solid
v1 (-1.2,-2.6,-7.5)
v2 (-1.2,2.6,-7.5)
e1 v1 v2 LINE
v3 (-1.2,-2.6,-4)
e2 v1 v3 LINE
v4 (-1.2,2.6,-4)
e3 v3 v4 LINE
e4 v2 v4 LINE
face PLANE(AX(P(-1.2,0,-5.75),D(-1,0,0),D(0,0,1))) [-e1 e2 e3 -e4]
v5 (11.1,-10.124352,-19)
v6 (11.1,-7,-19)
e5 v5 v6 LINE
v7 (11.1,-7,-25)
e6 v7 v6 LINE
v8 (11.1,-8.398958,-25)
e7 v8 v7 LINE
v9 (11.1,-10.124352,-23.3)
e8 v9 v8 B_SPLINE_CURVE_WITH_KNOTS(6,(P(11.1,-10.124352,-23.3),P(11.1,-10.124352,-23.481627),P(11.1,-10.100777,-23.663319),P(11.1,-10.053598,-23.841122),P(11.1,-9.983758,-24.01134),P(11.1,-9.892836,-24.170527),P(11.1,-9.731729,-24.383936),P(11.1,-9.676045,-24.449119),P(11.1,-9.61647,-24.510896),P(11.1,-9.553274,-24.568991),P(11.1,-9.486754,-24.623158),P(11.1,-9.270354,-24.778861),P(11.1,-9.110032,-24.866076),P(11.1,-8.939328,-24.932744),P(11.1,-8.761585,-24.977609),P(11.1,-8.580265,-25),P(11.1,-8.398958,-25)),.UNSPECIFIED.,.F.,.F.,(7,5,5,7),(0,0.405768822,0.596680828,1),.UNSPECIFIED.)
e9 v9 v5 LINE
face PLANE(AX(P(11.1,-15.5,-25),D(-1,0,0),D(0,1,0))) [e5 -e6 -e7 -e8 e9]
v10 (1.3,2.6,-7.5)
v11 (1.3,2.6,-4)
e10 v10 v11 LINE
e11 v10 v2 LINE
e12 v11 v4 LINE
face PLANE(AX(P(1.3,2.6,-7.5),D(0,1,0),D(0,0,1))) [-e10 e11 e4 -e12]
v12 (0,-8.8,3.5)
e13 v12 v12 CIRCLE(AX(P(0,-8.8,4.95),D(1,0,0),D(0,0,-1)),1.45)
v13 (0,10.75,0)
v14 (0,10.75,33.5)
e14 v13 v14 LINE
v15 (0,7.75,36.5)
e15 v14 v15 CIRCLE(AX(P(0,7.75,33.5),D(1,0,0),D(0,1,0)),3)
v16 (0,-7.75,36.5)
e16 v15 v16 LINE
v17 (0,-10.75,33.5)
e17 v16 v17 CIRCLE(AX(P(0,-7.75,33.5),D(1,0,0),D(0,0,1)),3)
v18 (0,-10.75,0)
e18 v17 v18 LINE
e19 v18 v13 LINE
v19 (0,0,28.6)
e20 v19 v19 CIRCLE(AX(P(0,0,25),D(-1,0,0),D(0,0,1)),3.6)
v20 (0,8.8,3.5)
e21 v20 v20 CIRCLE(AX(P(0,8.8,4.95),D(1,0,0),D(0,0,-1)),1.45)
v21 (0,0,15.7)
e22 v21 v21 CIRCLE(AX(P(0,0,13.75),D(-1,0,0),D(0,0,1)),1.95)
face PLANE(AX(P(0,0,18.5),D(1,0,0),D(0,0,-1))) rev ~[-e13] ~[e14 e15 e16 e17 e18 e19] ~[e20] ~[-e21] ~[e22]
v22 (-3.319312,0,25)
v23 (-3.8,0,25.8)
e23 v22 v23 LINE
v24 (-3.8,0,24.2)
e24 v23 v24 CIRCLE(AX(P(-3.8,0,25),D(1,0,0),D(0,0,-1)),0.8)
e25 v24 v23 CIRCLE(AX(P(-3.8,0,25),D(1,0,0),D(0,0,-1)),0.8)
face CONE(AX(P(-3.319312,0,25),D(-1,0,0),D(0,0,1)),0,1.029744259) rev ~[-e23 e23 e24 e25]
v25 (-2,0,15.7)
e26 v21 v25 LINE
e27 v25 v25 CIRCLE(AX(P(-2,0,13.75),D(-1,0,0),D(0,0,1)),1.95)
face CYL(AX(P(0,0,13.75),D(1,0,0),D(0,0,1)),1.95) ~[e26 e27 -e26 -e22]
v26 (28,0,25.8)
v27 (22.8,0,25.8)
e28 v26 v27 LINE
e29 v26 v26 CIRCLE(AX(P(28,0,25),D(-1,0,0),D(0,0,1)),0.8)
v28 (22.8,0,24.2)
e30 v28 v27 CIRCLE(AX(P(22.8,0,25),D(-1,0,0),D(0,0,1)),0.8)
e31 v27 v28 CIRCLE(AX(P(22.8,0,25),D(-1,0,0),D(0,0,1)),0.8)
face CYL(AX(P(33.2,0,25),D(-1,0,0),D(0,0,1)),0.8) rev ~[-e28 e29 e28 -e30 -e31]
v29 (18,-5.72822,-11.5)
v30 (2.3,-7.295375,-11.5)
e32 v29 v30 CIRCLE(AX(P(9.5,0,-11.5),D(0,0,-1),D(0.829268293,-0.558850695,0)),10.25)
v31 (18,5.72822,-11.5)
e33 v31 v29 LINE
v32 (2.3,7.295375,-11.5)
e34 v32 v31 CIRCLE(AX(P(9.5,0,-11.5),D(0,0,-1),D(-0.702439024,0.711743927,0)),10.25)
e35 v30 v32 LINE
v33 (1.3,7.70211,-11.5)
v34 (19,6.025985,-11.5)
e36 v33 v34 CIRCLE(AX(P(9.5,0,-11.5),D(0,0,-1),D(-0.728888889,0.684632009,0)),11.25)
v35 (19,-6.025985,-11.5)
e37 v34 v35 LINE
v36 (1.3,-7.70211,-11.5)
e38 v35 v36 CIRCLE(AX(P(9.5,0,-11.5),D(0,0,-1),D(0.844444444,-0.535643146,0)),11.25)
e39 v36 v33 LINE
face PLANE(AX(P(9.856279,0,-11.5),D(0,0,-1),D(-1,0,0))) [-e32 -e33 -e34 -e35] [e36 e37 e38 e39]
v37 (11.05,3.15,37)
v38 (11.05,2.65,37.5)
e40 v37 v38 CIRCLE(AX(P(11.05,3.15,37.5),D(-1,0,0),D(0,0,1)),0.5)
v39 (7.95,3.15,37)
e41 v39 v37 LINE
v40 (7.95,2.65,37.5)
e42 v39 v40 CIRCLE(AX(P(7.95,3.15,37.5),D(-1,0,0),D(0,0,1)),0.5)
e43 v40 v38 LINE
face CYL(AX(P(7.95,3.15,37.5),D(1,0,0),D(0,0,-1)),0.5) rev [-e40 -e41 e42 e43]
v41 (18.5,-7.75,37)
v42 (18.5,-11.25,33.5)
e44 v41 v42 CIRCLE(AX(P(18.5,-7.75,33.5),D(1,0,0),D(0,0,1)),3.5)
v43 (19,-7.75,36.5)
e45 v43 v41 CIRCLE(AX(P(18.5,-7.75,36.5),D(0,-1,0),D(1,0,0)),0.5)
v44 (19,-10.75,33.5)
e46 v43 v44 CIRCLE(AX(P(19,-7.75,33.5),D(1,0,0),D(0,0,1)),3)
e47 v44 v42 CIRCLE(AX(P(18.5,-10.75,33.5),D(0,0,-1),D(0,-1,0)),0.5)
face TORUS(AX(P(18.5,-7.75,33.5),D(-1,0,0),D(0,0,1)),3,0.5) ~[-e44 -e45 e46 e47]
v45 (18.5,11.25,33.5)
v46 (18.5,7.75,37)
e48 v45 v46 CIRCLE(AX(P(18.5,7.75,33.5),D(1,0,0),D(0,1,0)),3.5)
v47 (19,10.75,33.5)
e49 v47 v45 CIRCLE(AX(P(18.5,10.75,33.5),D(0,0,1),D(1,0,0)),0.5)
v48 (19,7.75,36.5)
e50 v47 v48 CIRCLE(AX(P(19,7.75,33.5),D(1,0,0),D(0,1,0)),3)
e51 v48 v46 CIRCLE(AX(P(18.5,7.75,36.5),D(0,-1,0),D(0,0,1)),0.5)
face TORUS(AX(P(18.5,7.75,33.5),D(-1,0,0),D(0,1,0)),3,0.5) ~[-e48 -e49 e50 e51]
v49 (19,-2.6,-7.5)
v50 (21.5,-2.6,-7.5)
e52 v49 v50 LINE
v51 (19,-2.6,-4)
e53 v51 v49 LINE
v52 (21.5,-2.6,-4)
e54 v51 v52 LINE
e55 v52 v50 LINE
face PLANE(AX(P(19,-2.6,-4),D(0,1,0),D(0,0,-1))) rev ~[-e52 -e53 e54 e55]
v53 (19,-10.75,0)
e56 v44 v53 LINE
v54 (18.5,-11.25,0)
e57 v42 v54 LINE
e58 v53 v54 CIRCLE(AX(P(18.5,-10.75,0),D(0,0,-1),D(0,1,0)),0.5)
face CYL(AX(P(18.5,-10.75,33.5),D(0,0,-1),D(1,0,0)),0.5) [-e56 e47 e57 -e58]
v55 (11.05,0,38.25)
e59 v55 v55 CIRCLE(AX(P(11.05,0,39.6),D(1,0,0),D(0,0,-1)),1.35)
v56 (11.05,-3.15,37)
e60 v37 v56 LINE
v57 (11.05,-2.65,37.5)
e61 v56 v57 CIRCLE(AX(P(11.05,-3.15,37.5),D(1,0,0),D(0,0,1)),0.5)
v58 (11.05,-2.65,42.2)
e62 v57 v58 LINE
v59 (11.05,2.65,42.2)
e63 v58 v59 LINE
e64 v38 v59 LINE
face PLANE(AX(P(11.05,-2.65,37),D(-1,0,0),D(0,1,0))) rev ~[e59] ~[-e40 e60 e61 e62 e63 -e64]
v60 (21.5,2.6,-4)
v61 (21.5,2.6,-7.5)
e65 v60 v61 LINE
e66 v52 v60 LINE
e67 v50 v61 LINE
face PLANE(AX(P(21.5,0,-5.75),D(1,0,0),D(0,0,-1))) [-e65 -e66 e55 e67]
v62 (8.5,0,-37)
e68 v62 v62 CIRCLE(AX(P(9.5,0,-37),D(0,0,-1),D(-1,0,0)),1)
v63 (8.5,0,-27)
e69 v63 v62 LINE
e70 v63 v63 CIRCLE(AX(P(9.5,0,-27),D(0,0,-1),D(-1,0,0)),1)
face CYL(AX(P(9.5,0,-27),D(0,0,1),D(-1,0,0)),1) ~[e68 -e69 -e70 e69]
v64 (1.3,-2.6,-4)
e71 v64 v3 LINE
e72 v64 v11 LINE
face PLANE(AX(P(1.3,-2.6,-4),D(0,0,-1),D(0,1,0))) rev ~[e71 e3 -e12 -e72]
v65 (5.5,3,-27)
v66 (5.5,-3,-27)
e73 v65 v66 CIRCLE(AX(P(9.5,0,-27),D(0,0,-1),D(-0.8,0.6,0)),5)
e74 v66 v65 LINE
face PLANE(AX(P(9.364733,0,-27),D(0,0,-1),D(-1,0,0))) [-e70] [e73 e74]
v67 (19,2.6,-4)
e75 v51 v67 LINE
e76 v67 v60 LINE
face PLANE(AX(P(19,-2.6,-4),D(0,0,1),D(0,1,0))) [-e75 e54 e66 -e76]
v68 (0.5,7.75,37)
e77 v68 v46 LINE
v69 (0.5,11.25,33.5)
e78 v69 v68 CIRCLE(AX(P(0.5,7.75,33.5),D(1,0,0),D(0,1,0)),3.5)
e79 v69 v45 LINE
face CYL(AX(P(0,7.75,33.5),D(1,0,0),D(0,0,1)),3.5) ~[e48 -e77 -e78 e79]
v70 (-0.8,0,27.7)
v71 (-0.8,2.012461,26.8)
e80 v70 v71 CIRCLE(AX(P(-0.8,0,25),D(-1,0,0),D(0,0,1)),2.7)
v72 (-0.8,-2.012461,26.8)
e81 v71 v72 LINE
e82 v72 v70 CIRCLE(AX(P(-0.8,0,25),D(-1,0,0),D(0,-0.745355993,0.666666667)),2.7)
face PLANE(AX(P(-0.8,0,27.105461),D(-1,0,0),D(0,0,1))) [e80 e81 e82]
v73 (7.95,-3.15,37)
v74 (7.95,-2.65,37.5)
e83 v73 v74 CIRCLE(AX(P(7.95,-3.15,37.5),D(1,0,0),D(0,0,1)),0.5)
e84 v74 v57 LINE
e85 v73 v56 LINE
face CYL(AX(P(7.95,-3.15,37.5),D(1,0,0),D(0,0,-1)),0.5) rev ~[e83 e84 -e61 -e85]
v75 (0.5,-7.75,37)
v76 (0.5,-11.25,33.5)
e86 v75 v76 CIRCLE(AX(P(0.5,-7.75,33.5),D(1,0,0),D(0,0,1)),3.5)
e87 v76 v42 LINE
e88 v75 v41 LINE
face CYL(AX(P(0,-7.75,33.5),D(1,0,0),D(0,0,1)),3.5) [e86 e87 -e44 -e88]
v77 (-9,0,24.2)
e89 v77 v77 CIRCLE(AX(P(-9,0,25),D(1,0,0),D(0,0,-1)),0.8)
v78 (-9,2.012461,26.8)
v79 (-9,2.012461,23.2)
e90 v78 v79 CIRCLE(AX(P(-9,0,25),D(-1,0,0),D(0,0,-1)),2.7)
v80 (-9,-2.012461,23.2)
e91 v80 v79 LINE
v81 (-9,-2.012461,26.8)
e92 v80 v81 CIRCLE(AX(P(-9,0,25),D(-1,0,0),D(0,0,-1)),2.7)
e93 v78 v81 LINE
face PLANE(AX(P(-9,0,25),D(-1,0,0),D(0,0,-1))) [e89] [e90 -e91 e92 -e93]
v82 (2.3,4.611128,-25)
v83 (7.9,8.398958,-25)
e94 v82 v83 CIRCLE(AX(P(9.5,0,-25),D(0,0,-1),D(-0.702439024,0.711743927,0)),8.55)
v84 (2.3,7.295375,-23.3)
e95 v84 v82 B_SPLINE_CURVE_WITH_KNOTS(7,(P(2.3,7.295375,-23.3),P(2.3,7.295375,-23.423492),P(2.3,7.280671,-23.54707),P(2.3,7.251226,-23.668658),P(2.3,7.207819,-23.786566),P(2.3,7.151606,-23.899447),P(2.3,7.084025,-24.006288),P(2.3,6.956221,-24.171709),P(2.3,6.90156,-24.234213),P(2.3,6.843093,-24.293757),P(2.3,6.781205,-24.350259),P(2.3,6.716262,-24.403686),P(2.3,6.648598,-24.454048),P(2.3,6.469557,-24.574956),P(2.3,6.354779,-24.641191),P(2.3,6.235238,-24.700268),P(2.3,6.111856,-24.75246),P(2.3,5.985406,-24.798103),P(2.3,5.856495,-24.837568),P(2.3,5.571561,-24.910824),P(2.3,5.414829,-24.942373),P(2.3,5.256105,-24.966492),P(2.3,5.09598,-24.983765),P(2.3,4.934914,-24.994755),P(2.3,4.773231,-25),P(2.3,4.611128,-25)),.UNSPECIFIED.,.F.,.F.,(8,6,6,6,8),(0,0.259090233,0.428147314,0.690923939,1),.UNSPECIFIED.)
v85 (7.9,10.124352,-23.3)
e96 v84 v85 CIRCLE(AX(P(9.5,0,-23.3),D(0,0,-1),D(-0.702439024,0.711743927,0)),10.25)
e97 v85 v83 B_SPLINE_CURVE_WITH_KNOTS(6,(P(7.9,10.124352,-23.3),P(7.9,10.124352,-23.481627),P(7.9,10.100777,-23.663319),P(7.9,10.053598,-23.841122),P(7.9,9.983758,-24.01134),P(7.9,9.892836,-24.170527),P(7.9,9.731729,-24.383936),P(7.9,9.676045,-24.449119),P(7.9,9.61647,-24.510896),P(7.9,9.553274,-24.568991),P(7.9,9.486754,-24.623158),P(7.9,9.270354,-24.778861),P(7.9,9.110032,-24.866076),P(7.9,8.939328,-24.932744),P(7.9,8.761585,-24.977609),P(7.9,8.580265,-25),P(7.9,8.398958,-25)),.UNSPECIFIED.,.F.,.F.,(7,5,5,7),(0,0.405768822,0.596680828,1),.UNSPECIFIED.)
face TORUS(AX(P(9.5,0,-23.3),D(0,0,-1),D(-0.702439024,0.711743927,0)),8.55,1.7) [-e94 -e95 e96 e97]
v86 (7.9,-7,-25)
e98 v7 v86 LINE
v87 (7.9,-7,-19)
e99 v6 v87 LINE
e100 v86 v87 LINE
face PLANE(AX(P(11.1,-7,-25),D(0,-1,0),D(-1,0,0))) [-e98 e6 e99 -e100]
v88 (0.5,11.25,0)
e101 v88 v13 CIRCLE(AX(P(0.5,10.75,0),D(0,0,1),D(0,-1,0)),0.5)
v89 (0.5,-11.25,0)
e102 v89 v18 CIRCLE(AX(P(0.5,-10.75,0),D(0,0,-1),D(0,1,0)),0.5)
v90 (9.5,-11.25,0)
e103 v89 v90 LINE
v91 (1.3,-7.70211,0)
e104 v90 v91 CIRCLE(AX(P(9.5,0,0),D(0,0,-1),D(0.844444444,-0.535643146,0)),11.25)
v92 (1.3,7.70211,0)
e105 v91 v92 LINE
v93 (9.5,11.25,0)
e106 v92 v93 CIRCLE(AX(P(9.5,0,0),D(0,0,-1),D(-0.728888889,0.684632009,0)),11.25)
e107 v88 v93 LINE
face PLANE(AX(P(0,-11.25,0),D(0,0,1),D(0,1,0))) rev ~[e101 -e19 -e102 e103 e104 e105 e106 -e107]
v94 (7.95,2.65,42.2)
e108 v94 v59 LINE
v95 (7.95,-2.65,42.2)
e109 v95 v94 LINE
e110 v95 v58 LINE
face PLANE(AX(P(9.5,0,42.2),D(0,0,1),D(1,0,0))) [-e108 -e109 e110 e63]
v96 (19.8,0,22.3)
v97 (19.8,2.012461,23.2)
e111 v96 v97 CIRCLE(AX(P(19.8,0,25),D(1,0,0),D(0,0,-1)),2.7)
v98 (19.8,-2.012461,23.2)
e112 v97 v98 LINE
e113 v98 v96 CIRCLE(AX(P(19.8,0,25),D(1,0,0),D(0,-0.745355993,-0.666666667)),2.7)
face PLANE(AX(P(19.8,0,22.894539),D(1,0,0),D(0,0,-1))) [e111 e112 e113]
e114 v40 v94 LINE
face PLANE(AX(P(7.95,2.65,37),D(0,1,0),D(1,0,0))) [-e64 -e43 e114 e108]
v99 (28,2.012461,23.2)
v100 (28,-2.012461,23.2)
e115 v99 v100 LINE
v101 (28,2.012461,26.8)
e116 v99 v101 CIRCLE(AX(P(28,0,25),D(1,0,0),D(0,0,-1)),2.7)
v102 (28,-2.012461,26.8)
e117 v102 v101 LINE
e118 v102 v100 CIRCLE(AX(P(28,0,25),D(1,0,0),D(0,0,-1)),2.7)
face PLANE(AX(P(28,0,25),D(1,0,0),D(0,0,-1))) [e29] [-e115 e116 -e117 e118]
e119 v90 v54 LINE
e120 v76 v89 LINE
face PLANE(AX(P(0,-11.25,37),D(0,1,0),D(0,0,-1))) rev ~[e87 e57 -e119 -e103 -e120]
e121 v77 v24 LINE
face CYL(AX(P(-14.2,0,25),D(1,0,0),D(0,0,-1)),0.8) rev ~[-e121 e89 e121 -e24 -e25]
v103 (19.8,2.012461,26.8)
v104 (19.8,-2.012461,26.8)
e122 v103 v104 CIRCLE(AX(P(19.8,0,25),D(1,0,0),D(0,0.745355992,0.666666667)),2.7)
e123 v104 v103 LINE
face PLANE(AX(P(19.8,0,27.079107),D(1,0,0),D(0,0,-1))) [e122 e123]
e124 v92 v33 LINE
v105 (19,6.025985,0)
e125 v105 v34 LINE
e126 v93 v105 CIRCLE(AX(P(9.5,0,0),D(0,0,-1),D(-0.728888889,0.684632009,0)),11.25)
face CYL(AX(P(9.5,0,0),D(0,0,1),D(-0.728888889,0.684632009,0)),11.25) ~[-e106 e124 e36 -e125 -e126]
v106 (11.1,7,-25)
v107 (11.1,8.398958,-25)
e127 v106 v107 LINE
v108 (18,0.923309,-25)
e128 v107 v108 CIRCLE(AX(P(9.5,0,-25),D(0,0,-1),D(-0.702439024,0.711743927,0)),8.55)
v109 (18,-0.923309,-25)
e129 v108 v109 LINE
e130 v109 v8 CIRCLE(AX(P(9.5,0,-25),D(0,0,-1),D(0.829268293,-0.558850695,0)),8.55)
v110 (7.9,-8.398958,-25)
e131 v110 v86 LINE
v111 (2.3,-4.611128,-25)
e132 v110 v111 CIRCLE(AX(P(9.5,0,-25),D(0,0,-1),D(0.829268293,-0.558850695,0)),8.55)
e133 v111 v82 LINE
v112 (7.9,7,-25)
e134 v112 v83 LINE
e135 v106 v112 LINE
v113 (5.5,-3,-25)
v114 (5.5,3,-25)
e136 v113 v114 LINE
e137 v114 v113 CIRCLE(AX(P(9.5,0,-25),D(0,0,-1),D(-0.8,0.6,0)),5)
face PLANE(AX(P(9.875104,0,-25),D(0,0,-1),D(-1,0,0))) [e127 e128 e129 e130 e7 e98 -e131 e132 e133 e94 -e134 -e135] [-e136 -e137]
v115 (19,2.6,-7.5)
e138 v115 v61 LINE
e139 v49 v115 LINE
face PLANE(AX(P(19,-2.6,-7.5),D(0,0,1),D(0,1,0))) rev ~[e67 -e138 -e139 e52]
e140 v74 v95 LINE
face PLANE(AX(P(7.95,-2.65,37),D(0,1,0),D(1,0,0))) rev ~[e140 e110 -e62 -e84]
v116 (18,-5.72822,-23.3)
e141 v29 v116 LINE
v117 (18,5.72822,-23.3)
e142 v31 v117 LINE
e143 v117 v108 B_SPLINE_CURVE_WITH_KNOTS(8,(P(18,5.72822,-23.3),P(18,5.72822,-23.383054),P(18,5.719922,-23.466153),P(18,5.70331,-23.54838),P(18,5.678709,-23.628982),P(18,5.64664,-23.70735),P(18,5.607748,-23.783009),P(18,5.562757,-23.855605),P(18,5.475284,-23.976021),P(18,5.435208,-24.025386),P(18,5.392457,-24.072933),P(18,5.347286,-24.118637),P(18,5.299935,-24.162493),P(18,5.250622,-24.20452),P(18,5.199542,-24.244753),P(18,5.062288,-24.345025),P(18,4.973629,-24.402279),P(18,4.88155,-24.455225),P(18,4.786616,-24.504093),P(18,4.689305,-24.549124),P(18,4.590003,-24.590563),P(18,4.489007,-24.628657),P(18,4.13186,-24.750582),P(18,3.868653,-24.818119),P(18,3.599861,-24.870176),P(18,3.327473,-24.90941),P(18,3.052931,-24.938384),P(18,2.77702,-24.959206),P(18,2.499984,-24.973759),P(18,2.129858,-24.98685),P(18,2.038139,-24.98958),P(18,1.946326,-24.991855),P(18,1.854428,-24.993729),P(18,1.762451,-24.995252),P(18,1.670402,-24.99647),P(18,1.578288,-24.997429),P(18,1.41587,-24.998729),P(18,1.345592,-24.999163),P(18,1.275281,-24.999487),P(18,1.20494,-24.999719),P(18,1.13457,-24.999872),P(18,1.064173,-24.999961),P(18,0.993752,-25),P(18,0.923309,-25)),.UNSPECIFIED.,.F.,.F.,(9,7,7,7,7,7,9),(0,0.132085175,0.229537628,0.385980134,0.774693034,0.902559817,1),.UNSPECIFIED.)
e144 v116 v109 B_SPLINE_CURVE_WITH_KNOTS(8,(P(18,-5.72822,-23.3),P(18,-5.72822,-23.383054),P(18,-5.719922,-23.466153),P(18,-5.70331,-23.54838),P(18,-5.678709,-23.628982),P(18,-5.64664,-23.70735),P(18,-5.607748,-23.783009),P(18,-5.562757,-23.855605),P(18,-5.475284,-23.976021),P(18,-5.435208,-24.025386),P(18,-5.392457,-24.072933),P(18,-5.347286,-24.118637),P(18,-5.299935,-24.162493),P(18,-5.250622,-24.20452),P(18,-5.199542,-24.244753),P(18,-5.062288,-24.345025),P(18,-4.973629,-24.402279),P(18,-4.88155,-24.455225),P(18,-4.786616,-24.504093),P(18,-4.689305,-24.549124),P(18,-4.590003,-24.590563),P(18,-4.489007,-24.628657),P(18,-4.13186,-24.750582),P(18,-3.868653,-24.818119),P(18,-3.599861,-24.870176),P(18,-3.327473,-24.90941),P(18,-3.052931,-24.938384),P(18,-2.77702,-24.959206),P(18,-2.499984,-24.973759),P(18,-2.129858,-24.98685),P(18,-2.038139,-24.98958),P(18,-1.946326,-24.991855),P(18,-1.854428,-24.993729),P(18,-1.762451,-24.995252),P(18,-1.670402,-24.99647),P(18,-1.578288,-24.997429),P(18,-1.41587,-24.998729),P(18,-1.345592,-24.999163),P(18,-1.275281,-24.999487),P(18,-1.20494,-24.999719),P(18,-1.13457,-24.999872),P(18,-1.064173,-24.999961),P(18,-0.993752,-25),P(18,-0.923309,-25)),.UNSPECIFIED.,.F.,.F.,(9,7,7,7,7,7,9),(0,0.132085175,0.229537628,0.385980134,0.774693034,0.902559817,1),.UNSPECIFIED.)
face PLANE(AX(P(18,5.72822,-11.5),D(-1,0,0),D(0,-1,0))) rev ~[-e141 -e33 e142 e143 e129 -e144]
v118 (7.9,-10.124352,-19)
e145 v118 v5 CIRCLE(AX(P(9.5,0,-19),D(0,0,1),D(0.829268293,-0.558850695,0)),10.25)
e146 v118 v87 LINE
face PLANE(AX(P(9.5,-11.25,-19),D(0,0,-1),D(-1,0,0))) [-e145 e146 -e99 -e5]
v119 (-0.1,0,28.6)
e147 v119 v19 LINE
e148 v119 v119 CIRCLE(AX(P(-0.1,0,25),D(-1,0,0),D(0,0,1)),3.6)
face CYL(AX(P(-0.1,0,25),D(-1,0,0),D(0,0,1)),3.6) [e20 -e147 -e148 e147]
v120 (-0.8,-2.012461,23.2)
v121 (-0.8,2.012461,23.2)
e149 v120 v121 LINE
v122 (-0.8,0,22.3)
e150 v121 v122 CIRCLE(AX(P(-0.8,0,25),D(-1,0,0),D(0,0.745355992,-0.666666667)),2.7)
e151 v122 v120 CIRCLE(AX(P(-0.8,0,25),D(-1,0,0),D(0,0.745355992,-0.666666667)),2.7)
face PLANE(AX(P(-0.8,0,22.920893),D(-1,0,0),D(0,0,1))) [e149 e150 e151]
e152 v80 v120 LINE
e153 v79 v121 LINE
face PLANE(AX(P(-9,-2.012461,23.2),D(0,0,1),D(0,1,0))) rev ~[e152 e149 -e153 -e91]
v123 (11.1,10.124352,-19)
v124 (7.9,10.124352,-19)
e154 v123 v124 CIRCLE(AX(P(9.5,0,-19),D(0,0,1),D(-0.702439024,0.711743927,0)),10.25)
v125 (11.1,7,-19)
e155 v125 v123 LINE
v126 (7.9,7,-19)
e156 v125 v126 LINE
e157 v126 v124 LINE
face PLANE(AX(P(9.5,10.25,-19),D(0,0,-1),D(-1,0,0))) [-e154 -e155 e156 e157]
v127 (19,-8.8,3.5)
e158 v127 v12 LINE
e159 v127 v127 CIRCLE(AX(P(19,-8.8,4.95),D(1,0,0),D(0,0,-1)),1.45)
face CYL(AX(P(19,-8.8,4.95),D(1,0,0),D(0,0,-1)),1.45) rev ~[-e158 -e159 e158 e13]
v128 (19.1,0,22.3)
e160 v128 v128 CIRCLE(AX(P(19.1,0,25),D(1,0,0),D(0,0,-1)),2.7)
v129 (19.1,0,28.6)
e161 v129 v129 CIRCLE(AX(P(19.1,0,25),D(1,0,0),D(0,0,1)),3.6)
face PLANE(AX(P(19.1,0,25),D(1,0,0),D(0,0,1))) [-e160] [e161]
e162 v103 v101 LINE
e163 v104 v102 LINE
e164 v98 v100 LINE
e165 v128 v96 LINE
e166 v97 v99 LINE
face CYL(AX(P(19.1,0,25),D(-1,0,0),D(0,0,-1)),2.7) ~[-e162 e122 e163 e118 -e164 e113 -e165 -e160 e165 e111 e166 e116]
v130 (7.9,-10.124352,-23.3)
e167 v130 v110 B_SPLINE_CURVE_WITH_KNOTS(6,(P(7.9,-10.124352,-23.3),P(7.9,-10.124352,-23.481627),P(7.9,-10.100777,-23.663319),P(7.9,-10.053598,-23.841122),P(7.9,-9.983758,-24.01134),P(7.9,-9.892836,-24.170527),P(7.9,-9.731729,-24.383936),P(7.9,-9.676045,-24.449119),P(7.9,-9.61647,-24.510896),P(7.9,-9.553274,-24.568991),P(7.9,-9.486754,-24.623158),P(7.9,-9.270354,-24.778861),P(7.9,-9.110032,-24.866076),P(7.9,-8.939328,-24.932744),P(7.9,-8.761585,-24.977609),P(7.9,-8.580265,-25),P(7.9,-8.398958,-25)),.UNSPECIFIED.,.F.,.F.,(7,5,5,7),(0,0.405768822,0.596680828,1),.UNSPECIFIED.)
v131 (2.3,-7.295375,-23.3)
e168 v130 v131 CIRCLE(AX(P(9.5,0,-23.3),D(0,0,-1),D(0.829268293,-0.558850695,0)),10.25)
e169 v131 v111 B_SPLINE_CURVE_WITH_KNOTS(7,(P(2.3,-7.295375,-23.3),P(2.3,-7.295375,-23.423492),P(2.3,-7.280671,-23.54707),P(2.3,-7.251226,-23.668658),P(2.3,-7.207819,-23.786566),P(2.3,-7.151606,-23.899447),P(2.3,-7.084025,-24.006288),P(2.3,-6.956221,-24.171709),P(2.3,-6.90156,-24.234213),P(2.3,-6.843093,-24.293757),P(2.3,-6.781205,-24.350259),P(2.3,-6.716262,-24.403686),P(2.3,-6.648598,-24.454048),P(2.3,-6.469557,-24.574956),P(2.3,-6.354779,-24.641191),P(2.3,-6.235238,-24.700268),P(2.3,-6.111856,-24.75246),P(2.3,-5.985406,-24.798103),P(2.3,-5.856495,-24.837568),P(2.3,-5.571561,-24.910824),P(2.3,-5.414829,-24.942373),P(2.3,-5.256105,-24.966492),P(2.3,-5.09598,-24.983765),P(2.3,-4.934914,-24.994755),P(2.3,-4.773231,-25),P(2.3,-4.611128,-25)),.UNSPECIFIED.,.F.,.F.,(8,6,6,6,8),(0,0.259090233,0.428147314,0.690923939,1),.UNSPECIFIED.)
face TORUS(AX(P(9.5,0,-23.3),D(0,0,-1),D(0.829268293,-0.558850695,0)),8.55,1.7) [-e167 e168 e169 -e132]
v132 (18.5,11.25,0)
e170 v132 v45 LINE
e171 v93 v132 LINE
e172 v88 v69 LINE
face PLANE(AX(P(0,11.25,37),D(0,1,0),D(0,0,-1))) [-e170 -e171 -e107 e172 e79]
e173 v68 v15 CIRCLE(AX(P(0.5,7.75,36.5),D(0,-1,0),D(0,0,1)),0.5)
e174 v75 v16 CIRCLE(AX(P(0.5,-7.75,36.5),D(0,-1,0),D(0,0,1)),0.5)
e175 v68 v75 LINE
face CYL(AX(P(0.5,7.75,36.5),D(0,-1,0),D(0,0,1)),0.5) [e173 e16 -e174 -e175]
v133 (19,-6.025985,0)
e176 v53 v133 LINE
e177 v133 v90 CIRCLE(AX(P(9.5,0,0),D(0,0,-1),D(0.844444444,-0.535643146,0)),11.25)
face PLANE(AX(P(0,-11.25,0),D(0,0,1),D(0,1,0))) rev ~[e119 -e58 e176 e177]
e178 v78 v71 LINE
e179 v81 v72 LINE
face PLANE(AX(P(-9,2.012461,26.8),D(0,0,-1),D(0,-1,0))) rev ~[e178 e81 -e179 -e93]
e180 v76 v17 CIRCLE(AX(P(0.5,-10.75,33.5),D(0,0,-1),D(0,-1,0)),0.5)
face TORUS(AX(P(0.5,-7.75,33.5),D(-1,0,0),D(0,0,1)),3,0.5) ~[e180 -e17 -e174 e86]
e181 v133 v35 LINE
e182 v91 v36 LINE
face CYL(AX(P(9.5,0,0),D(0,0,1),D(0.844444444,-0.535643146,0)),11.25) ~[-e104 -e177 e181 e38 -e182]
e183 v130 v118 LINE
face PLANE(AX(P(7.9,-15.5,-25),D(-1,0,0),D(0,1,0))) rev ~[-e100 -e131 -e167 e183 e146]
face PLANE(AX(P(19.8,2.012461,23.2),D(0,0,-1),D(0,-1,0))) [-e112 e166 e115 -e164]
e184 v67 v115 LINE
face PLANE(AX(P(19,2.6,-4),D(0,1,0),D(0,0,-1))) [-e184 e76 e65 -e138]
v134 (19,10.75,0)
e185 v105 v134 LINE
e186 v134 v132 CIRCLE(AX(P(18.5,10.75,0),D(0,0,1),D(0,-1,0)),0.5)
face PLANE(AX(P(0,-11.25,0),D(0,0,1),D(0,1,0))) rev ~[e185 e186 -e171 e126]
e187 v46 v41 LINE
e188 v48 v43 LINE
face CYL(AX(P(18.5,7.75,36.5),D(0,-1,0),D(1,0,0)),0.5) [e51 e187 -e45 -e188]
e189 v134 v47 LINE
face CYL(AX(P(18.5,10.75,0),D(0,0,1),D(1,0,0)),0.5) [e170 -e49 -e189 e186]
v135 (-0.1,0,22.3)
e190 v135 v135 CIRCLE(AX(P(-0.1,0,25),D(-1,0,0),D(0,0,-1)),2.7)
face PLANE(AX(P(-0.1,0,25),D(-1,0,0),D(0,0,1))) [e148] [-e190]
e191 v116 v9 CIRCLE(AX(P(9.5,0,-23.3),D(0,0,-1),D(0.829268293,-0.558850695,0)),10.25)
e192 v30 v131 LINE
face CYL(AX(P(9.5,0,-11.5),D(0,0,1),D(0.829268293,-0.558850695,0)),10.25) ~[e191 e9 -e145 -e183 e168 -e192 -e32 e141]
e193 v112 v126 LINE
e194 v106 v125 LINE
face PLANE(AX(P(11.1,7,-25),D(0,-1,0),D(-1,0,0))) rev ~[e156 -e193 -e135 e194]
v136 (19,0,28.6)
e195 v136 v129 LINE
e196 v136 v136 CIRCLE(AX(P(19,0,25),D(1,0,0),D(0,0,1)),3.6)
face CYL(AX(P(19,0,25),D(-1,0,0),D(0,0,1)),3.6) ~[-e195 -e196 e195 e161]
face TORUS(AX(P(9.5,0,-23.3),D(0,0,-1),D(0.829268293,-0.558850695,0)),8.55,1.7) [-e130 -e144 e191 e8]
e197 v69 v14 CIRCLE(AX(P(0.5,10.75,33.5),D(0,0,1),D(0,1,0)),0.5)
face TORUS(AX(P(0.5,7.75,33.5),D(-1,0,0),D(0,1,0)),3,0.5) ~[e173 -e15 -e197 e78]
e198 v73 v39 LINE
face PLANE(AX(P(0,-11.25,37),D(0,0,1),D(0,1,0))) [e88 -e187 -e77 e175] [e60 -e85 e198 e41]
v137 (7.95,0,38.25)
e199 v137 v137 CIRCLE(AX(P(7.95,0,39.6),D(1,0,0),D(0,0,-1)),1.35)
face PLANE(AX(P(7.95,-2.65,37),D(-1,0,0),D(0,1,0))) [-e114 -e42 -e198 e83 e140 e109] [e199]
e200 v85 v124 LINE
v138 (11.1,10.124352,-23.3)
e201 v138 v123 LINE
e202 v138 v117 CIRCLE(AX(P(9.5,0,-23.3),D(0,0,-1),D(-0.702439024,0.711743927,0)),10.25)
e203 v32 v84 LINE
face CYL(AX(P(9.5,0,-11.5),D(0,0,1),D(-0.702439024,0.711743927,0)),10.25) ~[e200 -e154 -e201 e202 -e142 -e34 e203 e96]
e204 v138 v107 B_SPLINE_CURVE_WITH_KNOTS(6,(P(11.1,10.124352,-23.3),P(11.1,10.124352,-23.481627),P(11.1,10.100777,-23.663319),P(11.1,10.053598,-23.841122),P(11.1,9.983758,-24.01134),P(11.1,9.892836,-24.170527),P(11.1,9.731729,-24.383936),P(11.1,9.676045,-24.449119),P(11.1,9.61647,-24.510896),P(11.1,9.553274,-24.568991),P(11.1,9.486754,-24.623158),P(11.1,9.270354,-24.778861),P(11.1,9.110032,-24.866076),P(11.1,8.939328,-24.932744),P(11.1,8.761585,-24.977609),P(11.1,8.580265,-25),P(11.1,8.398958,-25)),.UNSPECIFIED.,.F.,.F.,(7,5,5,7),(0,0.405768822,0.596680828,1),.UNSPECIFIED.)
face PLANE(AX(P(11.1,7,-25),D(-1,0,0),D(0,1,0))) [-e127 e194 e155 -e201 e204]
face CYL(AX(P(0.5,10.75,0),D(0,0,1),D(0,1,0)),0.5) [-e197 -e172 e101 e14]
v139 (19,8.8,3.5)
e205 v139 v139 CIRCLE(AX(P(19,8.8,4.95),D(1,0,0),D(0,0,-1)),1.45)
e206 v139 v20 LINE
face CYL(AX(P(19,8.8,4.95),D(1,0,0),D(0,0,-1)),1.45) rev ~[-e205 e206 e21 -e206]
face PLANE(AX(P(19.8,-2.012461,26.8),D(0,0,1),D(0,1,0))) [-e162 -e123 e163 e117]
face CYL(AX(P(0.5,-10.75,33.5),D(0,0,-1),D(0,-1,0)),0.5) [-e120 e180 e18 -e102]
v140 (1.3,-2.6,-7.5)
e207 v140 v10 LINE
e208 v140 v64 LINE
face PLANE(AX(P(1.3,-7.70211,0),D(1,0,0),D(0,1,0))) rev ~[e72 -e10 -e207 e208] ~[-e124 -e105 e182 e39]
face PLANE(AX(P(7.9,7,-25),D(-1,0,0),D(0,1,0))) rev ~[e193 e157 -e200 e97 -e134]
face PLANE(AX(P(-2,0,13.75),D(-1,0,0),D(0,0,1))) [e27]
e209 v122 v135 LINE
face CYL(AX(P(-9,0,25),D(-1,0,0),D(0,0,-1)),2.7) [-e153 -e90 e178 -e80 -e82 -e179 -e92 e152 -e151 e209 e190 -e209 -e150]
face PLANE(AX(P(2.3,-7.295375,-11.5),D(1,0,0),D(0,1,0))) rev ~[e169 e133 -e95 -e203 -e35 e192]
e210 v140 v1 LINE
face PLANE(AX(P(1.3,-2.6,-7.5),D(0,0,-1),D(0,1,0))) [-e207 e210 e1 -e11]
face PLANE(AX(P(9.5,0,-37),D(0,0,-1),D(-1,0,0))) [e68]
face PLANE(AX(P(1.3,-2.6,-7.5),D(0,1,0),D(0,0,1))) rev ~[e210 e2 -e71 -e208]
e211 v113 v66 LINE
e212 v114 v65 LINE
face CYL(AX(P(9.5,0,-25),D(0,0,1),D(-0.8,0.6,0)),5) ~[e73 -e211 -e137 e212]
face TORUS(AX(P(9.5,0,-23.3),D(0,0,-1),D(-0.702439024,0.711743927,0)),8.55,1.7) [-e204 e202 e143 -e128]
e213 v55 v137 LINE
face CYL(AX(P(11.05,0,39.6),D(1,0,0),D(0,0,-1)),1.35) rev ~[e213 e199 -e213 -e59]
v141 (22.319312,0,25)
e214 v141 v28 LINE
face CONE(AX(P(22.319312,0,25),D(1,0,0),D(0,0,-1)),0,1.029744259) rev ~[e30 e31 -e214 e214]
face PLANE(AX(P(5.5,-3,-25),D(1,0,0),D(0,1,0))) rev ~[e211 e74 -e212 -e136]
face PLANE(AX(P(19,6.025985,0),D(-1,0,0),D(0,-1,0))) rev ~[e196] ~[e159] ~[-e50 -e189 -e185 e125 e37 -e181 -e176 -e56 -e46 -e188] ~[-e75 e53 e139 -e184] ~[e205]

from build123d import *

# Parameters (mm, degrees)
SKETCH1_W                 = 37
SKETCH1_H                 = 22.5
BOSS_EXTRUDE1_DEPTH       = 19
SKETCH2_W                 = 3.1
SKETCH2_H                 = 5.3
BOSS_EXTRUDE2_DEPTH       = 5.2
SKETCH3_R                 = 1.35
CUT_EXTRUDE1_DEPTH        = 46.050027747
FILLET1_R                 = 3.5
SKETCH4_R                 = 3.6
BOSS_EXTRUDE3_DEPTH       = 0.1
BOSS_EXTRUDE4_START       = 0.1
SKETCH5_R                 = 3.6
BOSS_EXTRUDE4_DEPTH       = 0.1
SKETCH6_R                 = 2.7
BOSS_EXTRUDE5_DEPTH       = 8.9
BOSS_EXTRUDE6_START       = 8.9
SKETCH7_R                 = 2.7
BOSS_EXTRUDE6_DEPTH       = 8.9
FILLET2_R                 = 0.5
CUT_EXTRUDE2_START        = -8.2
CUT_EXTRUDE2_DEPTH        = 8.2
CUT_EXTRUDE3_DEPTH        = 8.2
M2X0_4_TAPPED_HOLE1_D     = 1.6
M2X0_4_TAPPED_HOLE1_DEPTH = 5.2
M2X0_4_TAPPED_HOLE1_TIP   = 0.480688495
M2X0_4_TAPPED_HOLE2_D     = 1.6
M2X0_4_TAPPED_HOLE2_DEPTH = 5.2
M2X0_4_TAPPED_HOLE2_TIP   = 0.480688495
SKETCH16_R                = 1.95
BOSS_EXTRUDE7_DEPTH       = 2
BOSS_EXTRUDE8_DEPTH       = 11.5
SKETCH18_W                = 3.5
SKETCH18_H                = 5.2
BOSS_EXTRUDE9_DEPTH       = 2.5
SKETCH19_W                = 3.5
SKETCH19_H                = 5.2
BOSS_EXTRUDE10_DEPTH      = 2.5
BOSS_EXTRUDE11_DEPTH      = 13.5
FILLET3_R                 = 1.7
BOSS_EXTRUDE12_DEPTH      = 2
SKETCH23_W                = 3.2
SKETCH23_H                = 6.5
SKETCH23_H_2              = 8.5
CUT_EXTRUDE4_DEPTH        = 6
SKETCH25_R                = 1.45
CUT_EXTRUDE5_DEPTH        = 52.878728782
FILLET4_R                 = 0.5
SKETCH26_R                = 1
BOSS_EXTRUDE13_DEPTH      = 10


with BuildPart() as part:
    # Sketch1 → Boss-Extrude1 (new body)
    with BuildSketch(Plane(origin=(0, 0, 0), x_dir=(0, 0, -1), z_dir=(1, 0, 0))):
        with Locations((-18.5, 0)):
            Rectangle(SKETCH1_W, SKETCH1_H)
    extrude(amount=BOSS_EXTRUDE1_DEPTH)

    # Sketch2 → Boss-Extrude2 (add)
    with BuildSketch(Plane.XY.offset(37)):
        with Locations((9.5, 0)):
            Rectangle(SKETCH2_W, SKETCH2_H)
    extrude(amount=BOSS_EXTRUDE2_DEPTH)

    # Sketch3 → Cut-Extrude1 (cut, through all)
    with BuildSketch(Plane(origin=(11.05, 0, 0), x_dir=(0, 0, -1), z_dir=(1, 0, 0))):
        with Locations((-39.6, 0)):
            Circle(SKETCH3_R)
    extrude(amount=-CUT_EXTRUDE1_DEPTH, mode=Mode.SUBTRACT)

    # Fillet1
    fillet1_edges = [part.edges().sort_by_distance(p)[0] for p in [
        (9.5, -11.25, 37),
        (9.5, 11.25, 37),
    ]]
    fillet(fillet1_edges, radius=FILLET1_R)

    # Sketch4 → Boss-Extrude3 (add)
    with BuildSketch(Plane(origin=(19, 0, 0), x_dir=(0, 0, -1), z_dir=(1, 0, 0))):
        with Locations(Location((-25, 0, 0), (0, 0, 180))):
            Circle(SKETCH4_R)
    extrude(amount=BOSS_EXTRUDE3_DEPTH)

    # Sketch5 → Boss-Extrude4 (add)
    with BuildSketch(Plane.ZY.offset(BOSS_EXTRUDE4_START)):
        with Locations((25, 0)):
            Circle(SKETCH5_R)
    extrude(amount=-BOSS_EXTRUDE4_DEPTH)

    # Sketch6 → Boss-Extrude5 (add)
    with BuildSketch(Plane(origin=(19.1, 0, 0), x_dir=(0, 0, -1), z_dir=(1, 0, 0))):
        with Locations((-25, 0)):
            Circle(SKETCH6_R)
    extrude(amount=BOSS_EXTRUDE5_DEPTH)

    # Sketch7 → Boss-Extrude6 (add)
    with BuildSketch(Plane.ZY.offset(0.1).offset(BOSS_EXTRUDE6_START)):
        with Locations(Location((25, 0, 0), (0, 0, 180))):
            Circle(SKETCH7_R)
    extrude(amount=-BOSS_EXTRUDE6_DEPTH)

    # Fillet2
    fillet2_edges = [part.edges().sort_by_distance(p)[0] for p in [
        (9.5, 2.65, 37),
        (9.5, -2.65, 37),
    ]]
    fillet(fillet2_edges, radius=FILLET2_R)

    # Sketch8 → Cut-Extrude2 (cut)
    with BuildSketch(Plane(origin=(28, 0, 0), x_dir=(0, 0, -1), z_dir=(1, 0, 0)).offset(CUT_EXTRUDE2_START)):
        with BuildLine():
            Line((-26.8, -2.01246118), (-26.8, 2.01246118))
            ThreePointArc((-26.8, 2.01246118), (-27.7, 0), (-26.8, -2.01246118))
        make_face()
        with BuildLine():
            ThreePointArc((-22.3, 0), (-22.535248491, 1.102270384), (-23.2, 2.01246118))
            Line((-23.2, 2.01246118), (-23.2, -2.01246118))
            ThreePointArc((-23.2, -2.01246118), (-22.535248491, -1.102270384), (-22.3, 0))
        make_face()
    extrude(amount=CUT_EXTRUDE2_DEPTH, mode=Mode.SUBTRACT)

    # Sketch9 → Cut-Extrude3 (cut)
    with BuildSketch(Plane.ZY.offset(9)):
        with BuildLine():
            Line((23.2, -2.01246118), (23.2, 2.01246118))
            ThreePointArc((23.2, 2.01246118), (22.3, 0), (23.2, -2.01246118))
        make_face()
        with BuildLine():
            ThreePointArc((27.7, 0), (27.464751509, 1.102270384), (26.8, 2.01246118))
            Line((26.8, 2.01246118), (26.8, -2.01246118))
            ThreePointArc((26.8, -2.01246118), (27.464751509, -1.102270384), (27.7, 0))
        make_face()
    extrude(amount=-CUT_EXTRUDE3_DEPTH, mode=Mode.SUBTRACT)

    # M2x0.4 Tapped Hole1
    with Locations(Plane(origin=(28, 0, 0), x_dir=(0, 0, -1), z_dir=(1, 0, 0))):
        with Locations((-25, 0)):
            Hole(M2X0_4_TAPPED_HOLE1_D / 2, depth=M2X0_4_TAPPED_HOLE1_DEPTH)
            with Locations((0, 0, -(M2X0_4_TAPPED_HOLE1_DEPTH + M2X0_4_TAPPED_HOLE1_TIP / 2))):  # 118° drill point
                Cone(0, M2X0_4_TAPPED_HOLE1_D / 2, M2X0_4_TAPPED_HOLE1_TIP, mode=Mode.SUBTRACT)

    # M2x0.4 Tapped Hole2
    with Locations(Plane.ZY.offset(9)):
        with Locations((25, 0)):
            Hole(M2X0_4_TAPPED_HOLE2_D / 2, depth=M2X0_4_TAPPED_HOLE2_DEPTH)
            with Locations((0, 0, -(M2X0_4_TAPPED_HOLE2_DEPTH + M2X0_4_TAPPED_HOLE2_TIP / 2))):  # 118° drill point
                Cone(0, M2X0_4_TAPPED_HOLE2_D / 2, M2X0_4_TAPPED_HOLE2_TIP, mode=Mode.SUBTRACT)

    # Sketch16 → Boss-Extrude7 (add)
    with BuildSketch(Plane.ZY):
        with Locations((13.75, 0)):
            Circle(SKETCH16_R)
    extrude(amount=BOSS_EXTRUDE7_DEPTH)

    # Sketch17 → Boss-Extrude8 (add)
    with BuildSketch(Plane(origin=(0, 0, 0), x_dir=(-1, 0, 0), z_dir=(0, 0, -1))):
        with BuildLine():
            Line((-19, 6.025985397), (-19, -6.025985397))
            ThreePointArc((-19, -6.025985397), (-10.560588754, -11.199895156), (-1.3, -7.7021101))
            Line((-1.3, -7.7021101), (-1.3, 7.7021101))
            ThreePointArc((-1.3, 7.7021101), (-10.560588754, 11.199895156), (-19, 6.025985397))
        make_face()
    extrude(amount=BOSS_EXTRUDE8_DEPTH)

    # Sketch18 → Boss-Extrude9 (add)
    with BuildSketch(Plane(origin=(19, 0, 0), x_dir=(0, 0, -1), z_dir=(1, 0, 0))):
        with Locations((5.75, 0)):
            Rectangle(SKETCH18_W, SKETCH18_H)
    extrude(amount=BOSS_EXTRUDE9_DEPTH)

    # Sketch19 → Boss-Extrude10 (add)
    with BuildSketch(Plane.ZY.offset(-1.3)):
        with Locations((-5.75, 0)):
            Rectangle(SKETCH19_W, SKETCH19_H)
    extrude(amount=BOSS_EXTRUDE10_DEPTH)

    # Sketch20 → Boss-Extrude11 (add)
    with BuildSketch(Plane(origin=(0, 0, -11.5), x_dir=(-1, 0, 0), z_dir=(0, 0, -1))):
        with BuildLine():
            Line((-18, 5.728219619), (-18, -5.728219619))
            ThreePointArc((-18, -5.728219619), (-10.518083587, -10.199313987), (-2.3, -7.295375247))
            Line((-2.3, -7.295375247), (-2.3, 7.295375247))
            ThreePointArc((-2.3, 7.295375247), (-10.518083587, 10.199313987), (-18, 5.728219619))
        make_face()
    extrude(amount=BOSS_EXTRUDE11_DEPTH)

    # Fillet3
    fillet3_edges = [part.edges().sort_by_distance(p)[0] for p in [
        (10.518083587, 10.199313987, -25),
        (10.518083587, -10.199313987, -25),
    ]]
    fillet(fillet3_edges, radius=FILLET3_R)

    # Sketch21 → Boss-Extrude12 (add)
    with BuildSketch(Plane(origin=(0, 0, -25), x_dir=(-1, 0, 0), z_dir=(0, 0, -1))):
        with BuildLine():
            Line((-5.5, -3), (-5.5, 3))
            ThreePointArc((-5.5, 3), (-14.5, 0), (-5.5, -3))
        make_face()
    extrude(amount=BOSS_EXTRUDE12_DEPTH)

    # Sketch23 → Cut-Extrude4 (cut)
    with BuildSketch(Plane(origin=(0, 0, -25), x_dir=(-1, 0, 0), z_dir=(0, 0, -1))):
        with Locations((-9.5, 10.25)):
            Rectangle(SKETCH23_W, SKETCH23_H)
        with Locations((-9.5, -11.25)):
            Rectangle(SKETCH23_W, SKETCH23_H_2)
    extrude(amount=-CUT_EXTRUDE4_DEPTH, mode=Mode.SUBTRACT)

    # Sketch25 → Cut-Extrude5 (cut, through all)
    with BuildSketch(Plane(origin=(19, 0, 0), x_dir=(0, 0, -1), z_dir=(1, 0, 0))):
        with Locations((-4.95, 8.8)):
            Circle(SKETCH25_R)
        with Locations((-4.95, -8.8)):
            Circle(SKETCH25_R)
    extrude(amount=-CUT_EXTRUDE5_DEPTH, mode=Mode.SUBTRACT)

    # Fillet4
    fillet4_edges = [part.edges().sort_by_distance(p)[0] for p in [
        (0, -11.25, 16.75),
        (0, -10.224873734, 35.974873734),
        (0, 0, 37),
        (0, 10.224873734, 35.974873734),
        (19, -11.25, 16.75),
        (19, -10.224873734, 35.974873734),
        (19, 0, 37),
        (19, 10.224873734, 35.974873734),
        (0, 11.25, 16.75),
        (19, 11.25, 16.75),
    ]]
    fillet(fillet4_edges, radius=FILLET4_R)

    # Sketch26 → Boss-Extrude13 (add)
    with BuildSketch(Plane(origin=(0, 0, -27), x_dir=(-1, 0, 0), z_dir=(0, 0, -1))):
        with Locations((-9.5, 0)):
            Circle(SKETCH26_R)
    extrude(amount=BOSS_EXTRUDE13_DEPTH)


solid = part.part
